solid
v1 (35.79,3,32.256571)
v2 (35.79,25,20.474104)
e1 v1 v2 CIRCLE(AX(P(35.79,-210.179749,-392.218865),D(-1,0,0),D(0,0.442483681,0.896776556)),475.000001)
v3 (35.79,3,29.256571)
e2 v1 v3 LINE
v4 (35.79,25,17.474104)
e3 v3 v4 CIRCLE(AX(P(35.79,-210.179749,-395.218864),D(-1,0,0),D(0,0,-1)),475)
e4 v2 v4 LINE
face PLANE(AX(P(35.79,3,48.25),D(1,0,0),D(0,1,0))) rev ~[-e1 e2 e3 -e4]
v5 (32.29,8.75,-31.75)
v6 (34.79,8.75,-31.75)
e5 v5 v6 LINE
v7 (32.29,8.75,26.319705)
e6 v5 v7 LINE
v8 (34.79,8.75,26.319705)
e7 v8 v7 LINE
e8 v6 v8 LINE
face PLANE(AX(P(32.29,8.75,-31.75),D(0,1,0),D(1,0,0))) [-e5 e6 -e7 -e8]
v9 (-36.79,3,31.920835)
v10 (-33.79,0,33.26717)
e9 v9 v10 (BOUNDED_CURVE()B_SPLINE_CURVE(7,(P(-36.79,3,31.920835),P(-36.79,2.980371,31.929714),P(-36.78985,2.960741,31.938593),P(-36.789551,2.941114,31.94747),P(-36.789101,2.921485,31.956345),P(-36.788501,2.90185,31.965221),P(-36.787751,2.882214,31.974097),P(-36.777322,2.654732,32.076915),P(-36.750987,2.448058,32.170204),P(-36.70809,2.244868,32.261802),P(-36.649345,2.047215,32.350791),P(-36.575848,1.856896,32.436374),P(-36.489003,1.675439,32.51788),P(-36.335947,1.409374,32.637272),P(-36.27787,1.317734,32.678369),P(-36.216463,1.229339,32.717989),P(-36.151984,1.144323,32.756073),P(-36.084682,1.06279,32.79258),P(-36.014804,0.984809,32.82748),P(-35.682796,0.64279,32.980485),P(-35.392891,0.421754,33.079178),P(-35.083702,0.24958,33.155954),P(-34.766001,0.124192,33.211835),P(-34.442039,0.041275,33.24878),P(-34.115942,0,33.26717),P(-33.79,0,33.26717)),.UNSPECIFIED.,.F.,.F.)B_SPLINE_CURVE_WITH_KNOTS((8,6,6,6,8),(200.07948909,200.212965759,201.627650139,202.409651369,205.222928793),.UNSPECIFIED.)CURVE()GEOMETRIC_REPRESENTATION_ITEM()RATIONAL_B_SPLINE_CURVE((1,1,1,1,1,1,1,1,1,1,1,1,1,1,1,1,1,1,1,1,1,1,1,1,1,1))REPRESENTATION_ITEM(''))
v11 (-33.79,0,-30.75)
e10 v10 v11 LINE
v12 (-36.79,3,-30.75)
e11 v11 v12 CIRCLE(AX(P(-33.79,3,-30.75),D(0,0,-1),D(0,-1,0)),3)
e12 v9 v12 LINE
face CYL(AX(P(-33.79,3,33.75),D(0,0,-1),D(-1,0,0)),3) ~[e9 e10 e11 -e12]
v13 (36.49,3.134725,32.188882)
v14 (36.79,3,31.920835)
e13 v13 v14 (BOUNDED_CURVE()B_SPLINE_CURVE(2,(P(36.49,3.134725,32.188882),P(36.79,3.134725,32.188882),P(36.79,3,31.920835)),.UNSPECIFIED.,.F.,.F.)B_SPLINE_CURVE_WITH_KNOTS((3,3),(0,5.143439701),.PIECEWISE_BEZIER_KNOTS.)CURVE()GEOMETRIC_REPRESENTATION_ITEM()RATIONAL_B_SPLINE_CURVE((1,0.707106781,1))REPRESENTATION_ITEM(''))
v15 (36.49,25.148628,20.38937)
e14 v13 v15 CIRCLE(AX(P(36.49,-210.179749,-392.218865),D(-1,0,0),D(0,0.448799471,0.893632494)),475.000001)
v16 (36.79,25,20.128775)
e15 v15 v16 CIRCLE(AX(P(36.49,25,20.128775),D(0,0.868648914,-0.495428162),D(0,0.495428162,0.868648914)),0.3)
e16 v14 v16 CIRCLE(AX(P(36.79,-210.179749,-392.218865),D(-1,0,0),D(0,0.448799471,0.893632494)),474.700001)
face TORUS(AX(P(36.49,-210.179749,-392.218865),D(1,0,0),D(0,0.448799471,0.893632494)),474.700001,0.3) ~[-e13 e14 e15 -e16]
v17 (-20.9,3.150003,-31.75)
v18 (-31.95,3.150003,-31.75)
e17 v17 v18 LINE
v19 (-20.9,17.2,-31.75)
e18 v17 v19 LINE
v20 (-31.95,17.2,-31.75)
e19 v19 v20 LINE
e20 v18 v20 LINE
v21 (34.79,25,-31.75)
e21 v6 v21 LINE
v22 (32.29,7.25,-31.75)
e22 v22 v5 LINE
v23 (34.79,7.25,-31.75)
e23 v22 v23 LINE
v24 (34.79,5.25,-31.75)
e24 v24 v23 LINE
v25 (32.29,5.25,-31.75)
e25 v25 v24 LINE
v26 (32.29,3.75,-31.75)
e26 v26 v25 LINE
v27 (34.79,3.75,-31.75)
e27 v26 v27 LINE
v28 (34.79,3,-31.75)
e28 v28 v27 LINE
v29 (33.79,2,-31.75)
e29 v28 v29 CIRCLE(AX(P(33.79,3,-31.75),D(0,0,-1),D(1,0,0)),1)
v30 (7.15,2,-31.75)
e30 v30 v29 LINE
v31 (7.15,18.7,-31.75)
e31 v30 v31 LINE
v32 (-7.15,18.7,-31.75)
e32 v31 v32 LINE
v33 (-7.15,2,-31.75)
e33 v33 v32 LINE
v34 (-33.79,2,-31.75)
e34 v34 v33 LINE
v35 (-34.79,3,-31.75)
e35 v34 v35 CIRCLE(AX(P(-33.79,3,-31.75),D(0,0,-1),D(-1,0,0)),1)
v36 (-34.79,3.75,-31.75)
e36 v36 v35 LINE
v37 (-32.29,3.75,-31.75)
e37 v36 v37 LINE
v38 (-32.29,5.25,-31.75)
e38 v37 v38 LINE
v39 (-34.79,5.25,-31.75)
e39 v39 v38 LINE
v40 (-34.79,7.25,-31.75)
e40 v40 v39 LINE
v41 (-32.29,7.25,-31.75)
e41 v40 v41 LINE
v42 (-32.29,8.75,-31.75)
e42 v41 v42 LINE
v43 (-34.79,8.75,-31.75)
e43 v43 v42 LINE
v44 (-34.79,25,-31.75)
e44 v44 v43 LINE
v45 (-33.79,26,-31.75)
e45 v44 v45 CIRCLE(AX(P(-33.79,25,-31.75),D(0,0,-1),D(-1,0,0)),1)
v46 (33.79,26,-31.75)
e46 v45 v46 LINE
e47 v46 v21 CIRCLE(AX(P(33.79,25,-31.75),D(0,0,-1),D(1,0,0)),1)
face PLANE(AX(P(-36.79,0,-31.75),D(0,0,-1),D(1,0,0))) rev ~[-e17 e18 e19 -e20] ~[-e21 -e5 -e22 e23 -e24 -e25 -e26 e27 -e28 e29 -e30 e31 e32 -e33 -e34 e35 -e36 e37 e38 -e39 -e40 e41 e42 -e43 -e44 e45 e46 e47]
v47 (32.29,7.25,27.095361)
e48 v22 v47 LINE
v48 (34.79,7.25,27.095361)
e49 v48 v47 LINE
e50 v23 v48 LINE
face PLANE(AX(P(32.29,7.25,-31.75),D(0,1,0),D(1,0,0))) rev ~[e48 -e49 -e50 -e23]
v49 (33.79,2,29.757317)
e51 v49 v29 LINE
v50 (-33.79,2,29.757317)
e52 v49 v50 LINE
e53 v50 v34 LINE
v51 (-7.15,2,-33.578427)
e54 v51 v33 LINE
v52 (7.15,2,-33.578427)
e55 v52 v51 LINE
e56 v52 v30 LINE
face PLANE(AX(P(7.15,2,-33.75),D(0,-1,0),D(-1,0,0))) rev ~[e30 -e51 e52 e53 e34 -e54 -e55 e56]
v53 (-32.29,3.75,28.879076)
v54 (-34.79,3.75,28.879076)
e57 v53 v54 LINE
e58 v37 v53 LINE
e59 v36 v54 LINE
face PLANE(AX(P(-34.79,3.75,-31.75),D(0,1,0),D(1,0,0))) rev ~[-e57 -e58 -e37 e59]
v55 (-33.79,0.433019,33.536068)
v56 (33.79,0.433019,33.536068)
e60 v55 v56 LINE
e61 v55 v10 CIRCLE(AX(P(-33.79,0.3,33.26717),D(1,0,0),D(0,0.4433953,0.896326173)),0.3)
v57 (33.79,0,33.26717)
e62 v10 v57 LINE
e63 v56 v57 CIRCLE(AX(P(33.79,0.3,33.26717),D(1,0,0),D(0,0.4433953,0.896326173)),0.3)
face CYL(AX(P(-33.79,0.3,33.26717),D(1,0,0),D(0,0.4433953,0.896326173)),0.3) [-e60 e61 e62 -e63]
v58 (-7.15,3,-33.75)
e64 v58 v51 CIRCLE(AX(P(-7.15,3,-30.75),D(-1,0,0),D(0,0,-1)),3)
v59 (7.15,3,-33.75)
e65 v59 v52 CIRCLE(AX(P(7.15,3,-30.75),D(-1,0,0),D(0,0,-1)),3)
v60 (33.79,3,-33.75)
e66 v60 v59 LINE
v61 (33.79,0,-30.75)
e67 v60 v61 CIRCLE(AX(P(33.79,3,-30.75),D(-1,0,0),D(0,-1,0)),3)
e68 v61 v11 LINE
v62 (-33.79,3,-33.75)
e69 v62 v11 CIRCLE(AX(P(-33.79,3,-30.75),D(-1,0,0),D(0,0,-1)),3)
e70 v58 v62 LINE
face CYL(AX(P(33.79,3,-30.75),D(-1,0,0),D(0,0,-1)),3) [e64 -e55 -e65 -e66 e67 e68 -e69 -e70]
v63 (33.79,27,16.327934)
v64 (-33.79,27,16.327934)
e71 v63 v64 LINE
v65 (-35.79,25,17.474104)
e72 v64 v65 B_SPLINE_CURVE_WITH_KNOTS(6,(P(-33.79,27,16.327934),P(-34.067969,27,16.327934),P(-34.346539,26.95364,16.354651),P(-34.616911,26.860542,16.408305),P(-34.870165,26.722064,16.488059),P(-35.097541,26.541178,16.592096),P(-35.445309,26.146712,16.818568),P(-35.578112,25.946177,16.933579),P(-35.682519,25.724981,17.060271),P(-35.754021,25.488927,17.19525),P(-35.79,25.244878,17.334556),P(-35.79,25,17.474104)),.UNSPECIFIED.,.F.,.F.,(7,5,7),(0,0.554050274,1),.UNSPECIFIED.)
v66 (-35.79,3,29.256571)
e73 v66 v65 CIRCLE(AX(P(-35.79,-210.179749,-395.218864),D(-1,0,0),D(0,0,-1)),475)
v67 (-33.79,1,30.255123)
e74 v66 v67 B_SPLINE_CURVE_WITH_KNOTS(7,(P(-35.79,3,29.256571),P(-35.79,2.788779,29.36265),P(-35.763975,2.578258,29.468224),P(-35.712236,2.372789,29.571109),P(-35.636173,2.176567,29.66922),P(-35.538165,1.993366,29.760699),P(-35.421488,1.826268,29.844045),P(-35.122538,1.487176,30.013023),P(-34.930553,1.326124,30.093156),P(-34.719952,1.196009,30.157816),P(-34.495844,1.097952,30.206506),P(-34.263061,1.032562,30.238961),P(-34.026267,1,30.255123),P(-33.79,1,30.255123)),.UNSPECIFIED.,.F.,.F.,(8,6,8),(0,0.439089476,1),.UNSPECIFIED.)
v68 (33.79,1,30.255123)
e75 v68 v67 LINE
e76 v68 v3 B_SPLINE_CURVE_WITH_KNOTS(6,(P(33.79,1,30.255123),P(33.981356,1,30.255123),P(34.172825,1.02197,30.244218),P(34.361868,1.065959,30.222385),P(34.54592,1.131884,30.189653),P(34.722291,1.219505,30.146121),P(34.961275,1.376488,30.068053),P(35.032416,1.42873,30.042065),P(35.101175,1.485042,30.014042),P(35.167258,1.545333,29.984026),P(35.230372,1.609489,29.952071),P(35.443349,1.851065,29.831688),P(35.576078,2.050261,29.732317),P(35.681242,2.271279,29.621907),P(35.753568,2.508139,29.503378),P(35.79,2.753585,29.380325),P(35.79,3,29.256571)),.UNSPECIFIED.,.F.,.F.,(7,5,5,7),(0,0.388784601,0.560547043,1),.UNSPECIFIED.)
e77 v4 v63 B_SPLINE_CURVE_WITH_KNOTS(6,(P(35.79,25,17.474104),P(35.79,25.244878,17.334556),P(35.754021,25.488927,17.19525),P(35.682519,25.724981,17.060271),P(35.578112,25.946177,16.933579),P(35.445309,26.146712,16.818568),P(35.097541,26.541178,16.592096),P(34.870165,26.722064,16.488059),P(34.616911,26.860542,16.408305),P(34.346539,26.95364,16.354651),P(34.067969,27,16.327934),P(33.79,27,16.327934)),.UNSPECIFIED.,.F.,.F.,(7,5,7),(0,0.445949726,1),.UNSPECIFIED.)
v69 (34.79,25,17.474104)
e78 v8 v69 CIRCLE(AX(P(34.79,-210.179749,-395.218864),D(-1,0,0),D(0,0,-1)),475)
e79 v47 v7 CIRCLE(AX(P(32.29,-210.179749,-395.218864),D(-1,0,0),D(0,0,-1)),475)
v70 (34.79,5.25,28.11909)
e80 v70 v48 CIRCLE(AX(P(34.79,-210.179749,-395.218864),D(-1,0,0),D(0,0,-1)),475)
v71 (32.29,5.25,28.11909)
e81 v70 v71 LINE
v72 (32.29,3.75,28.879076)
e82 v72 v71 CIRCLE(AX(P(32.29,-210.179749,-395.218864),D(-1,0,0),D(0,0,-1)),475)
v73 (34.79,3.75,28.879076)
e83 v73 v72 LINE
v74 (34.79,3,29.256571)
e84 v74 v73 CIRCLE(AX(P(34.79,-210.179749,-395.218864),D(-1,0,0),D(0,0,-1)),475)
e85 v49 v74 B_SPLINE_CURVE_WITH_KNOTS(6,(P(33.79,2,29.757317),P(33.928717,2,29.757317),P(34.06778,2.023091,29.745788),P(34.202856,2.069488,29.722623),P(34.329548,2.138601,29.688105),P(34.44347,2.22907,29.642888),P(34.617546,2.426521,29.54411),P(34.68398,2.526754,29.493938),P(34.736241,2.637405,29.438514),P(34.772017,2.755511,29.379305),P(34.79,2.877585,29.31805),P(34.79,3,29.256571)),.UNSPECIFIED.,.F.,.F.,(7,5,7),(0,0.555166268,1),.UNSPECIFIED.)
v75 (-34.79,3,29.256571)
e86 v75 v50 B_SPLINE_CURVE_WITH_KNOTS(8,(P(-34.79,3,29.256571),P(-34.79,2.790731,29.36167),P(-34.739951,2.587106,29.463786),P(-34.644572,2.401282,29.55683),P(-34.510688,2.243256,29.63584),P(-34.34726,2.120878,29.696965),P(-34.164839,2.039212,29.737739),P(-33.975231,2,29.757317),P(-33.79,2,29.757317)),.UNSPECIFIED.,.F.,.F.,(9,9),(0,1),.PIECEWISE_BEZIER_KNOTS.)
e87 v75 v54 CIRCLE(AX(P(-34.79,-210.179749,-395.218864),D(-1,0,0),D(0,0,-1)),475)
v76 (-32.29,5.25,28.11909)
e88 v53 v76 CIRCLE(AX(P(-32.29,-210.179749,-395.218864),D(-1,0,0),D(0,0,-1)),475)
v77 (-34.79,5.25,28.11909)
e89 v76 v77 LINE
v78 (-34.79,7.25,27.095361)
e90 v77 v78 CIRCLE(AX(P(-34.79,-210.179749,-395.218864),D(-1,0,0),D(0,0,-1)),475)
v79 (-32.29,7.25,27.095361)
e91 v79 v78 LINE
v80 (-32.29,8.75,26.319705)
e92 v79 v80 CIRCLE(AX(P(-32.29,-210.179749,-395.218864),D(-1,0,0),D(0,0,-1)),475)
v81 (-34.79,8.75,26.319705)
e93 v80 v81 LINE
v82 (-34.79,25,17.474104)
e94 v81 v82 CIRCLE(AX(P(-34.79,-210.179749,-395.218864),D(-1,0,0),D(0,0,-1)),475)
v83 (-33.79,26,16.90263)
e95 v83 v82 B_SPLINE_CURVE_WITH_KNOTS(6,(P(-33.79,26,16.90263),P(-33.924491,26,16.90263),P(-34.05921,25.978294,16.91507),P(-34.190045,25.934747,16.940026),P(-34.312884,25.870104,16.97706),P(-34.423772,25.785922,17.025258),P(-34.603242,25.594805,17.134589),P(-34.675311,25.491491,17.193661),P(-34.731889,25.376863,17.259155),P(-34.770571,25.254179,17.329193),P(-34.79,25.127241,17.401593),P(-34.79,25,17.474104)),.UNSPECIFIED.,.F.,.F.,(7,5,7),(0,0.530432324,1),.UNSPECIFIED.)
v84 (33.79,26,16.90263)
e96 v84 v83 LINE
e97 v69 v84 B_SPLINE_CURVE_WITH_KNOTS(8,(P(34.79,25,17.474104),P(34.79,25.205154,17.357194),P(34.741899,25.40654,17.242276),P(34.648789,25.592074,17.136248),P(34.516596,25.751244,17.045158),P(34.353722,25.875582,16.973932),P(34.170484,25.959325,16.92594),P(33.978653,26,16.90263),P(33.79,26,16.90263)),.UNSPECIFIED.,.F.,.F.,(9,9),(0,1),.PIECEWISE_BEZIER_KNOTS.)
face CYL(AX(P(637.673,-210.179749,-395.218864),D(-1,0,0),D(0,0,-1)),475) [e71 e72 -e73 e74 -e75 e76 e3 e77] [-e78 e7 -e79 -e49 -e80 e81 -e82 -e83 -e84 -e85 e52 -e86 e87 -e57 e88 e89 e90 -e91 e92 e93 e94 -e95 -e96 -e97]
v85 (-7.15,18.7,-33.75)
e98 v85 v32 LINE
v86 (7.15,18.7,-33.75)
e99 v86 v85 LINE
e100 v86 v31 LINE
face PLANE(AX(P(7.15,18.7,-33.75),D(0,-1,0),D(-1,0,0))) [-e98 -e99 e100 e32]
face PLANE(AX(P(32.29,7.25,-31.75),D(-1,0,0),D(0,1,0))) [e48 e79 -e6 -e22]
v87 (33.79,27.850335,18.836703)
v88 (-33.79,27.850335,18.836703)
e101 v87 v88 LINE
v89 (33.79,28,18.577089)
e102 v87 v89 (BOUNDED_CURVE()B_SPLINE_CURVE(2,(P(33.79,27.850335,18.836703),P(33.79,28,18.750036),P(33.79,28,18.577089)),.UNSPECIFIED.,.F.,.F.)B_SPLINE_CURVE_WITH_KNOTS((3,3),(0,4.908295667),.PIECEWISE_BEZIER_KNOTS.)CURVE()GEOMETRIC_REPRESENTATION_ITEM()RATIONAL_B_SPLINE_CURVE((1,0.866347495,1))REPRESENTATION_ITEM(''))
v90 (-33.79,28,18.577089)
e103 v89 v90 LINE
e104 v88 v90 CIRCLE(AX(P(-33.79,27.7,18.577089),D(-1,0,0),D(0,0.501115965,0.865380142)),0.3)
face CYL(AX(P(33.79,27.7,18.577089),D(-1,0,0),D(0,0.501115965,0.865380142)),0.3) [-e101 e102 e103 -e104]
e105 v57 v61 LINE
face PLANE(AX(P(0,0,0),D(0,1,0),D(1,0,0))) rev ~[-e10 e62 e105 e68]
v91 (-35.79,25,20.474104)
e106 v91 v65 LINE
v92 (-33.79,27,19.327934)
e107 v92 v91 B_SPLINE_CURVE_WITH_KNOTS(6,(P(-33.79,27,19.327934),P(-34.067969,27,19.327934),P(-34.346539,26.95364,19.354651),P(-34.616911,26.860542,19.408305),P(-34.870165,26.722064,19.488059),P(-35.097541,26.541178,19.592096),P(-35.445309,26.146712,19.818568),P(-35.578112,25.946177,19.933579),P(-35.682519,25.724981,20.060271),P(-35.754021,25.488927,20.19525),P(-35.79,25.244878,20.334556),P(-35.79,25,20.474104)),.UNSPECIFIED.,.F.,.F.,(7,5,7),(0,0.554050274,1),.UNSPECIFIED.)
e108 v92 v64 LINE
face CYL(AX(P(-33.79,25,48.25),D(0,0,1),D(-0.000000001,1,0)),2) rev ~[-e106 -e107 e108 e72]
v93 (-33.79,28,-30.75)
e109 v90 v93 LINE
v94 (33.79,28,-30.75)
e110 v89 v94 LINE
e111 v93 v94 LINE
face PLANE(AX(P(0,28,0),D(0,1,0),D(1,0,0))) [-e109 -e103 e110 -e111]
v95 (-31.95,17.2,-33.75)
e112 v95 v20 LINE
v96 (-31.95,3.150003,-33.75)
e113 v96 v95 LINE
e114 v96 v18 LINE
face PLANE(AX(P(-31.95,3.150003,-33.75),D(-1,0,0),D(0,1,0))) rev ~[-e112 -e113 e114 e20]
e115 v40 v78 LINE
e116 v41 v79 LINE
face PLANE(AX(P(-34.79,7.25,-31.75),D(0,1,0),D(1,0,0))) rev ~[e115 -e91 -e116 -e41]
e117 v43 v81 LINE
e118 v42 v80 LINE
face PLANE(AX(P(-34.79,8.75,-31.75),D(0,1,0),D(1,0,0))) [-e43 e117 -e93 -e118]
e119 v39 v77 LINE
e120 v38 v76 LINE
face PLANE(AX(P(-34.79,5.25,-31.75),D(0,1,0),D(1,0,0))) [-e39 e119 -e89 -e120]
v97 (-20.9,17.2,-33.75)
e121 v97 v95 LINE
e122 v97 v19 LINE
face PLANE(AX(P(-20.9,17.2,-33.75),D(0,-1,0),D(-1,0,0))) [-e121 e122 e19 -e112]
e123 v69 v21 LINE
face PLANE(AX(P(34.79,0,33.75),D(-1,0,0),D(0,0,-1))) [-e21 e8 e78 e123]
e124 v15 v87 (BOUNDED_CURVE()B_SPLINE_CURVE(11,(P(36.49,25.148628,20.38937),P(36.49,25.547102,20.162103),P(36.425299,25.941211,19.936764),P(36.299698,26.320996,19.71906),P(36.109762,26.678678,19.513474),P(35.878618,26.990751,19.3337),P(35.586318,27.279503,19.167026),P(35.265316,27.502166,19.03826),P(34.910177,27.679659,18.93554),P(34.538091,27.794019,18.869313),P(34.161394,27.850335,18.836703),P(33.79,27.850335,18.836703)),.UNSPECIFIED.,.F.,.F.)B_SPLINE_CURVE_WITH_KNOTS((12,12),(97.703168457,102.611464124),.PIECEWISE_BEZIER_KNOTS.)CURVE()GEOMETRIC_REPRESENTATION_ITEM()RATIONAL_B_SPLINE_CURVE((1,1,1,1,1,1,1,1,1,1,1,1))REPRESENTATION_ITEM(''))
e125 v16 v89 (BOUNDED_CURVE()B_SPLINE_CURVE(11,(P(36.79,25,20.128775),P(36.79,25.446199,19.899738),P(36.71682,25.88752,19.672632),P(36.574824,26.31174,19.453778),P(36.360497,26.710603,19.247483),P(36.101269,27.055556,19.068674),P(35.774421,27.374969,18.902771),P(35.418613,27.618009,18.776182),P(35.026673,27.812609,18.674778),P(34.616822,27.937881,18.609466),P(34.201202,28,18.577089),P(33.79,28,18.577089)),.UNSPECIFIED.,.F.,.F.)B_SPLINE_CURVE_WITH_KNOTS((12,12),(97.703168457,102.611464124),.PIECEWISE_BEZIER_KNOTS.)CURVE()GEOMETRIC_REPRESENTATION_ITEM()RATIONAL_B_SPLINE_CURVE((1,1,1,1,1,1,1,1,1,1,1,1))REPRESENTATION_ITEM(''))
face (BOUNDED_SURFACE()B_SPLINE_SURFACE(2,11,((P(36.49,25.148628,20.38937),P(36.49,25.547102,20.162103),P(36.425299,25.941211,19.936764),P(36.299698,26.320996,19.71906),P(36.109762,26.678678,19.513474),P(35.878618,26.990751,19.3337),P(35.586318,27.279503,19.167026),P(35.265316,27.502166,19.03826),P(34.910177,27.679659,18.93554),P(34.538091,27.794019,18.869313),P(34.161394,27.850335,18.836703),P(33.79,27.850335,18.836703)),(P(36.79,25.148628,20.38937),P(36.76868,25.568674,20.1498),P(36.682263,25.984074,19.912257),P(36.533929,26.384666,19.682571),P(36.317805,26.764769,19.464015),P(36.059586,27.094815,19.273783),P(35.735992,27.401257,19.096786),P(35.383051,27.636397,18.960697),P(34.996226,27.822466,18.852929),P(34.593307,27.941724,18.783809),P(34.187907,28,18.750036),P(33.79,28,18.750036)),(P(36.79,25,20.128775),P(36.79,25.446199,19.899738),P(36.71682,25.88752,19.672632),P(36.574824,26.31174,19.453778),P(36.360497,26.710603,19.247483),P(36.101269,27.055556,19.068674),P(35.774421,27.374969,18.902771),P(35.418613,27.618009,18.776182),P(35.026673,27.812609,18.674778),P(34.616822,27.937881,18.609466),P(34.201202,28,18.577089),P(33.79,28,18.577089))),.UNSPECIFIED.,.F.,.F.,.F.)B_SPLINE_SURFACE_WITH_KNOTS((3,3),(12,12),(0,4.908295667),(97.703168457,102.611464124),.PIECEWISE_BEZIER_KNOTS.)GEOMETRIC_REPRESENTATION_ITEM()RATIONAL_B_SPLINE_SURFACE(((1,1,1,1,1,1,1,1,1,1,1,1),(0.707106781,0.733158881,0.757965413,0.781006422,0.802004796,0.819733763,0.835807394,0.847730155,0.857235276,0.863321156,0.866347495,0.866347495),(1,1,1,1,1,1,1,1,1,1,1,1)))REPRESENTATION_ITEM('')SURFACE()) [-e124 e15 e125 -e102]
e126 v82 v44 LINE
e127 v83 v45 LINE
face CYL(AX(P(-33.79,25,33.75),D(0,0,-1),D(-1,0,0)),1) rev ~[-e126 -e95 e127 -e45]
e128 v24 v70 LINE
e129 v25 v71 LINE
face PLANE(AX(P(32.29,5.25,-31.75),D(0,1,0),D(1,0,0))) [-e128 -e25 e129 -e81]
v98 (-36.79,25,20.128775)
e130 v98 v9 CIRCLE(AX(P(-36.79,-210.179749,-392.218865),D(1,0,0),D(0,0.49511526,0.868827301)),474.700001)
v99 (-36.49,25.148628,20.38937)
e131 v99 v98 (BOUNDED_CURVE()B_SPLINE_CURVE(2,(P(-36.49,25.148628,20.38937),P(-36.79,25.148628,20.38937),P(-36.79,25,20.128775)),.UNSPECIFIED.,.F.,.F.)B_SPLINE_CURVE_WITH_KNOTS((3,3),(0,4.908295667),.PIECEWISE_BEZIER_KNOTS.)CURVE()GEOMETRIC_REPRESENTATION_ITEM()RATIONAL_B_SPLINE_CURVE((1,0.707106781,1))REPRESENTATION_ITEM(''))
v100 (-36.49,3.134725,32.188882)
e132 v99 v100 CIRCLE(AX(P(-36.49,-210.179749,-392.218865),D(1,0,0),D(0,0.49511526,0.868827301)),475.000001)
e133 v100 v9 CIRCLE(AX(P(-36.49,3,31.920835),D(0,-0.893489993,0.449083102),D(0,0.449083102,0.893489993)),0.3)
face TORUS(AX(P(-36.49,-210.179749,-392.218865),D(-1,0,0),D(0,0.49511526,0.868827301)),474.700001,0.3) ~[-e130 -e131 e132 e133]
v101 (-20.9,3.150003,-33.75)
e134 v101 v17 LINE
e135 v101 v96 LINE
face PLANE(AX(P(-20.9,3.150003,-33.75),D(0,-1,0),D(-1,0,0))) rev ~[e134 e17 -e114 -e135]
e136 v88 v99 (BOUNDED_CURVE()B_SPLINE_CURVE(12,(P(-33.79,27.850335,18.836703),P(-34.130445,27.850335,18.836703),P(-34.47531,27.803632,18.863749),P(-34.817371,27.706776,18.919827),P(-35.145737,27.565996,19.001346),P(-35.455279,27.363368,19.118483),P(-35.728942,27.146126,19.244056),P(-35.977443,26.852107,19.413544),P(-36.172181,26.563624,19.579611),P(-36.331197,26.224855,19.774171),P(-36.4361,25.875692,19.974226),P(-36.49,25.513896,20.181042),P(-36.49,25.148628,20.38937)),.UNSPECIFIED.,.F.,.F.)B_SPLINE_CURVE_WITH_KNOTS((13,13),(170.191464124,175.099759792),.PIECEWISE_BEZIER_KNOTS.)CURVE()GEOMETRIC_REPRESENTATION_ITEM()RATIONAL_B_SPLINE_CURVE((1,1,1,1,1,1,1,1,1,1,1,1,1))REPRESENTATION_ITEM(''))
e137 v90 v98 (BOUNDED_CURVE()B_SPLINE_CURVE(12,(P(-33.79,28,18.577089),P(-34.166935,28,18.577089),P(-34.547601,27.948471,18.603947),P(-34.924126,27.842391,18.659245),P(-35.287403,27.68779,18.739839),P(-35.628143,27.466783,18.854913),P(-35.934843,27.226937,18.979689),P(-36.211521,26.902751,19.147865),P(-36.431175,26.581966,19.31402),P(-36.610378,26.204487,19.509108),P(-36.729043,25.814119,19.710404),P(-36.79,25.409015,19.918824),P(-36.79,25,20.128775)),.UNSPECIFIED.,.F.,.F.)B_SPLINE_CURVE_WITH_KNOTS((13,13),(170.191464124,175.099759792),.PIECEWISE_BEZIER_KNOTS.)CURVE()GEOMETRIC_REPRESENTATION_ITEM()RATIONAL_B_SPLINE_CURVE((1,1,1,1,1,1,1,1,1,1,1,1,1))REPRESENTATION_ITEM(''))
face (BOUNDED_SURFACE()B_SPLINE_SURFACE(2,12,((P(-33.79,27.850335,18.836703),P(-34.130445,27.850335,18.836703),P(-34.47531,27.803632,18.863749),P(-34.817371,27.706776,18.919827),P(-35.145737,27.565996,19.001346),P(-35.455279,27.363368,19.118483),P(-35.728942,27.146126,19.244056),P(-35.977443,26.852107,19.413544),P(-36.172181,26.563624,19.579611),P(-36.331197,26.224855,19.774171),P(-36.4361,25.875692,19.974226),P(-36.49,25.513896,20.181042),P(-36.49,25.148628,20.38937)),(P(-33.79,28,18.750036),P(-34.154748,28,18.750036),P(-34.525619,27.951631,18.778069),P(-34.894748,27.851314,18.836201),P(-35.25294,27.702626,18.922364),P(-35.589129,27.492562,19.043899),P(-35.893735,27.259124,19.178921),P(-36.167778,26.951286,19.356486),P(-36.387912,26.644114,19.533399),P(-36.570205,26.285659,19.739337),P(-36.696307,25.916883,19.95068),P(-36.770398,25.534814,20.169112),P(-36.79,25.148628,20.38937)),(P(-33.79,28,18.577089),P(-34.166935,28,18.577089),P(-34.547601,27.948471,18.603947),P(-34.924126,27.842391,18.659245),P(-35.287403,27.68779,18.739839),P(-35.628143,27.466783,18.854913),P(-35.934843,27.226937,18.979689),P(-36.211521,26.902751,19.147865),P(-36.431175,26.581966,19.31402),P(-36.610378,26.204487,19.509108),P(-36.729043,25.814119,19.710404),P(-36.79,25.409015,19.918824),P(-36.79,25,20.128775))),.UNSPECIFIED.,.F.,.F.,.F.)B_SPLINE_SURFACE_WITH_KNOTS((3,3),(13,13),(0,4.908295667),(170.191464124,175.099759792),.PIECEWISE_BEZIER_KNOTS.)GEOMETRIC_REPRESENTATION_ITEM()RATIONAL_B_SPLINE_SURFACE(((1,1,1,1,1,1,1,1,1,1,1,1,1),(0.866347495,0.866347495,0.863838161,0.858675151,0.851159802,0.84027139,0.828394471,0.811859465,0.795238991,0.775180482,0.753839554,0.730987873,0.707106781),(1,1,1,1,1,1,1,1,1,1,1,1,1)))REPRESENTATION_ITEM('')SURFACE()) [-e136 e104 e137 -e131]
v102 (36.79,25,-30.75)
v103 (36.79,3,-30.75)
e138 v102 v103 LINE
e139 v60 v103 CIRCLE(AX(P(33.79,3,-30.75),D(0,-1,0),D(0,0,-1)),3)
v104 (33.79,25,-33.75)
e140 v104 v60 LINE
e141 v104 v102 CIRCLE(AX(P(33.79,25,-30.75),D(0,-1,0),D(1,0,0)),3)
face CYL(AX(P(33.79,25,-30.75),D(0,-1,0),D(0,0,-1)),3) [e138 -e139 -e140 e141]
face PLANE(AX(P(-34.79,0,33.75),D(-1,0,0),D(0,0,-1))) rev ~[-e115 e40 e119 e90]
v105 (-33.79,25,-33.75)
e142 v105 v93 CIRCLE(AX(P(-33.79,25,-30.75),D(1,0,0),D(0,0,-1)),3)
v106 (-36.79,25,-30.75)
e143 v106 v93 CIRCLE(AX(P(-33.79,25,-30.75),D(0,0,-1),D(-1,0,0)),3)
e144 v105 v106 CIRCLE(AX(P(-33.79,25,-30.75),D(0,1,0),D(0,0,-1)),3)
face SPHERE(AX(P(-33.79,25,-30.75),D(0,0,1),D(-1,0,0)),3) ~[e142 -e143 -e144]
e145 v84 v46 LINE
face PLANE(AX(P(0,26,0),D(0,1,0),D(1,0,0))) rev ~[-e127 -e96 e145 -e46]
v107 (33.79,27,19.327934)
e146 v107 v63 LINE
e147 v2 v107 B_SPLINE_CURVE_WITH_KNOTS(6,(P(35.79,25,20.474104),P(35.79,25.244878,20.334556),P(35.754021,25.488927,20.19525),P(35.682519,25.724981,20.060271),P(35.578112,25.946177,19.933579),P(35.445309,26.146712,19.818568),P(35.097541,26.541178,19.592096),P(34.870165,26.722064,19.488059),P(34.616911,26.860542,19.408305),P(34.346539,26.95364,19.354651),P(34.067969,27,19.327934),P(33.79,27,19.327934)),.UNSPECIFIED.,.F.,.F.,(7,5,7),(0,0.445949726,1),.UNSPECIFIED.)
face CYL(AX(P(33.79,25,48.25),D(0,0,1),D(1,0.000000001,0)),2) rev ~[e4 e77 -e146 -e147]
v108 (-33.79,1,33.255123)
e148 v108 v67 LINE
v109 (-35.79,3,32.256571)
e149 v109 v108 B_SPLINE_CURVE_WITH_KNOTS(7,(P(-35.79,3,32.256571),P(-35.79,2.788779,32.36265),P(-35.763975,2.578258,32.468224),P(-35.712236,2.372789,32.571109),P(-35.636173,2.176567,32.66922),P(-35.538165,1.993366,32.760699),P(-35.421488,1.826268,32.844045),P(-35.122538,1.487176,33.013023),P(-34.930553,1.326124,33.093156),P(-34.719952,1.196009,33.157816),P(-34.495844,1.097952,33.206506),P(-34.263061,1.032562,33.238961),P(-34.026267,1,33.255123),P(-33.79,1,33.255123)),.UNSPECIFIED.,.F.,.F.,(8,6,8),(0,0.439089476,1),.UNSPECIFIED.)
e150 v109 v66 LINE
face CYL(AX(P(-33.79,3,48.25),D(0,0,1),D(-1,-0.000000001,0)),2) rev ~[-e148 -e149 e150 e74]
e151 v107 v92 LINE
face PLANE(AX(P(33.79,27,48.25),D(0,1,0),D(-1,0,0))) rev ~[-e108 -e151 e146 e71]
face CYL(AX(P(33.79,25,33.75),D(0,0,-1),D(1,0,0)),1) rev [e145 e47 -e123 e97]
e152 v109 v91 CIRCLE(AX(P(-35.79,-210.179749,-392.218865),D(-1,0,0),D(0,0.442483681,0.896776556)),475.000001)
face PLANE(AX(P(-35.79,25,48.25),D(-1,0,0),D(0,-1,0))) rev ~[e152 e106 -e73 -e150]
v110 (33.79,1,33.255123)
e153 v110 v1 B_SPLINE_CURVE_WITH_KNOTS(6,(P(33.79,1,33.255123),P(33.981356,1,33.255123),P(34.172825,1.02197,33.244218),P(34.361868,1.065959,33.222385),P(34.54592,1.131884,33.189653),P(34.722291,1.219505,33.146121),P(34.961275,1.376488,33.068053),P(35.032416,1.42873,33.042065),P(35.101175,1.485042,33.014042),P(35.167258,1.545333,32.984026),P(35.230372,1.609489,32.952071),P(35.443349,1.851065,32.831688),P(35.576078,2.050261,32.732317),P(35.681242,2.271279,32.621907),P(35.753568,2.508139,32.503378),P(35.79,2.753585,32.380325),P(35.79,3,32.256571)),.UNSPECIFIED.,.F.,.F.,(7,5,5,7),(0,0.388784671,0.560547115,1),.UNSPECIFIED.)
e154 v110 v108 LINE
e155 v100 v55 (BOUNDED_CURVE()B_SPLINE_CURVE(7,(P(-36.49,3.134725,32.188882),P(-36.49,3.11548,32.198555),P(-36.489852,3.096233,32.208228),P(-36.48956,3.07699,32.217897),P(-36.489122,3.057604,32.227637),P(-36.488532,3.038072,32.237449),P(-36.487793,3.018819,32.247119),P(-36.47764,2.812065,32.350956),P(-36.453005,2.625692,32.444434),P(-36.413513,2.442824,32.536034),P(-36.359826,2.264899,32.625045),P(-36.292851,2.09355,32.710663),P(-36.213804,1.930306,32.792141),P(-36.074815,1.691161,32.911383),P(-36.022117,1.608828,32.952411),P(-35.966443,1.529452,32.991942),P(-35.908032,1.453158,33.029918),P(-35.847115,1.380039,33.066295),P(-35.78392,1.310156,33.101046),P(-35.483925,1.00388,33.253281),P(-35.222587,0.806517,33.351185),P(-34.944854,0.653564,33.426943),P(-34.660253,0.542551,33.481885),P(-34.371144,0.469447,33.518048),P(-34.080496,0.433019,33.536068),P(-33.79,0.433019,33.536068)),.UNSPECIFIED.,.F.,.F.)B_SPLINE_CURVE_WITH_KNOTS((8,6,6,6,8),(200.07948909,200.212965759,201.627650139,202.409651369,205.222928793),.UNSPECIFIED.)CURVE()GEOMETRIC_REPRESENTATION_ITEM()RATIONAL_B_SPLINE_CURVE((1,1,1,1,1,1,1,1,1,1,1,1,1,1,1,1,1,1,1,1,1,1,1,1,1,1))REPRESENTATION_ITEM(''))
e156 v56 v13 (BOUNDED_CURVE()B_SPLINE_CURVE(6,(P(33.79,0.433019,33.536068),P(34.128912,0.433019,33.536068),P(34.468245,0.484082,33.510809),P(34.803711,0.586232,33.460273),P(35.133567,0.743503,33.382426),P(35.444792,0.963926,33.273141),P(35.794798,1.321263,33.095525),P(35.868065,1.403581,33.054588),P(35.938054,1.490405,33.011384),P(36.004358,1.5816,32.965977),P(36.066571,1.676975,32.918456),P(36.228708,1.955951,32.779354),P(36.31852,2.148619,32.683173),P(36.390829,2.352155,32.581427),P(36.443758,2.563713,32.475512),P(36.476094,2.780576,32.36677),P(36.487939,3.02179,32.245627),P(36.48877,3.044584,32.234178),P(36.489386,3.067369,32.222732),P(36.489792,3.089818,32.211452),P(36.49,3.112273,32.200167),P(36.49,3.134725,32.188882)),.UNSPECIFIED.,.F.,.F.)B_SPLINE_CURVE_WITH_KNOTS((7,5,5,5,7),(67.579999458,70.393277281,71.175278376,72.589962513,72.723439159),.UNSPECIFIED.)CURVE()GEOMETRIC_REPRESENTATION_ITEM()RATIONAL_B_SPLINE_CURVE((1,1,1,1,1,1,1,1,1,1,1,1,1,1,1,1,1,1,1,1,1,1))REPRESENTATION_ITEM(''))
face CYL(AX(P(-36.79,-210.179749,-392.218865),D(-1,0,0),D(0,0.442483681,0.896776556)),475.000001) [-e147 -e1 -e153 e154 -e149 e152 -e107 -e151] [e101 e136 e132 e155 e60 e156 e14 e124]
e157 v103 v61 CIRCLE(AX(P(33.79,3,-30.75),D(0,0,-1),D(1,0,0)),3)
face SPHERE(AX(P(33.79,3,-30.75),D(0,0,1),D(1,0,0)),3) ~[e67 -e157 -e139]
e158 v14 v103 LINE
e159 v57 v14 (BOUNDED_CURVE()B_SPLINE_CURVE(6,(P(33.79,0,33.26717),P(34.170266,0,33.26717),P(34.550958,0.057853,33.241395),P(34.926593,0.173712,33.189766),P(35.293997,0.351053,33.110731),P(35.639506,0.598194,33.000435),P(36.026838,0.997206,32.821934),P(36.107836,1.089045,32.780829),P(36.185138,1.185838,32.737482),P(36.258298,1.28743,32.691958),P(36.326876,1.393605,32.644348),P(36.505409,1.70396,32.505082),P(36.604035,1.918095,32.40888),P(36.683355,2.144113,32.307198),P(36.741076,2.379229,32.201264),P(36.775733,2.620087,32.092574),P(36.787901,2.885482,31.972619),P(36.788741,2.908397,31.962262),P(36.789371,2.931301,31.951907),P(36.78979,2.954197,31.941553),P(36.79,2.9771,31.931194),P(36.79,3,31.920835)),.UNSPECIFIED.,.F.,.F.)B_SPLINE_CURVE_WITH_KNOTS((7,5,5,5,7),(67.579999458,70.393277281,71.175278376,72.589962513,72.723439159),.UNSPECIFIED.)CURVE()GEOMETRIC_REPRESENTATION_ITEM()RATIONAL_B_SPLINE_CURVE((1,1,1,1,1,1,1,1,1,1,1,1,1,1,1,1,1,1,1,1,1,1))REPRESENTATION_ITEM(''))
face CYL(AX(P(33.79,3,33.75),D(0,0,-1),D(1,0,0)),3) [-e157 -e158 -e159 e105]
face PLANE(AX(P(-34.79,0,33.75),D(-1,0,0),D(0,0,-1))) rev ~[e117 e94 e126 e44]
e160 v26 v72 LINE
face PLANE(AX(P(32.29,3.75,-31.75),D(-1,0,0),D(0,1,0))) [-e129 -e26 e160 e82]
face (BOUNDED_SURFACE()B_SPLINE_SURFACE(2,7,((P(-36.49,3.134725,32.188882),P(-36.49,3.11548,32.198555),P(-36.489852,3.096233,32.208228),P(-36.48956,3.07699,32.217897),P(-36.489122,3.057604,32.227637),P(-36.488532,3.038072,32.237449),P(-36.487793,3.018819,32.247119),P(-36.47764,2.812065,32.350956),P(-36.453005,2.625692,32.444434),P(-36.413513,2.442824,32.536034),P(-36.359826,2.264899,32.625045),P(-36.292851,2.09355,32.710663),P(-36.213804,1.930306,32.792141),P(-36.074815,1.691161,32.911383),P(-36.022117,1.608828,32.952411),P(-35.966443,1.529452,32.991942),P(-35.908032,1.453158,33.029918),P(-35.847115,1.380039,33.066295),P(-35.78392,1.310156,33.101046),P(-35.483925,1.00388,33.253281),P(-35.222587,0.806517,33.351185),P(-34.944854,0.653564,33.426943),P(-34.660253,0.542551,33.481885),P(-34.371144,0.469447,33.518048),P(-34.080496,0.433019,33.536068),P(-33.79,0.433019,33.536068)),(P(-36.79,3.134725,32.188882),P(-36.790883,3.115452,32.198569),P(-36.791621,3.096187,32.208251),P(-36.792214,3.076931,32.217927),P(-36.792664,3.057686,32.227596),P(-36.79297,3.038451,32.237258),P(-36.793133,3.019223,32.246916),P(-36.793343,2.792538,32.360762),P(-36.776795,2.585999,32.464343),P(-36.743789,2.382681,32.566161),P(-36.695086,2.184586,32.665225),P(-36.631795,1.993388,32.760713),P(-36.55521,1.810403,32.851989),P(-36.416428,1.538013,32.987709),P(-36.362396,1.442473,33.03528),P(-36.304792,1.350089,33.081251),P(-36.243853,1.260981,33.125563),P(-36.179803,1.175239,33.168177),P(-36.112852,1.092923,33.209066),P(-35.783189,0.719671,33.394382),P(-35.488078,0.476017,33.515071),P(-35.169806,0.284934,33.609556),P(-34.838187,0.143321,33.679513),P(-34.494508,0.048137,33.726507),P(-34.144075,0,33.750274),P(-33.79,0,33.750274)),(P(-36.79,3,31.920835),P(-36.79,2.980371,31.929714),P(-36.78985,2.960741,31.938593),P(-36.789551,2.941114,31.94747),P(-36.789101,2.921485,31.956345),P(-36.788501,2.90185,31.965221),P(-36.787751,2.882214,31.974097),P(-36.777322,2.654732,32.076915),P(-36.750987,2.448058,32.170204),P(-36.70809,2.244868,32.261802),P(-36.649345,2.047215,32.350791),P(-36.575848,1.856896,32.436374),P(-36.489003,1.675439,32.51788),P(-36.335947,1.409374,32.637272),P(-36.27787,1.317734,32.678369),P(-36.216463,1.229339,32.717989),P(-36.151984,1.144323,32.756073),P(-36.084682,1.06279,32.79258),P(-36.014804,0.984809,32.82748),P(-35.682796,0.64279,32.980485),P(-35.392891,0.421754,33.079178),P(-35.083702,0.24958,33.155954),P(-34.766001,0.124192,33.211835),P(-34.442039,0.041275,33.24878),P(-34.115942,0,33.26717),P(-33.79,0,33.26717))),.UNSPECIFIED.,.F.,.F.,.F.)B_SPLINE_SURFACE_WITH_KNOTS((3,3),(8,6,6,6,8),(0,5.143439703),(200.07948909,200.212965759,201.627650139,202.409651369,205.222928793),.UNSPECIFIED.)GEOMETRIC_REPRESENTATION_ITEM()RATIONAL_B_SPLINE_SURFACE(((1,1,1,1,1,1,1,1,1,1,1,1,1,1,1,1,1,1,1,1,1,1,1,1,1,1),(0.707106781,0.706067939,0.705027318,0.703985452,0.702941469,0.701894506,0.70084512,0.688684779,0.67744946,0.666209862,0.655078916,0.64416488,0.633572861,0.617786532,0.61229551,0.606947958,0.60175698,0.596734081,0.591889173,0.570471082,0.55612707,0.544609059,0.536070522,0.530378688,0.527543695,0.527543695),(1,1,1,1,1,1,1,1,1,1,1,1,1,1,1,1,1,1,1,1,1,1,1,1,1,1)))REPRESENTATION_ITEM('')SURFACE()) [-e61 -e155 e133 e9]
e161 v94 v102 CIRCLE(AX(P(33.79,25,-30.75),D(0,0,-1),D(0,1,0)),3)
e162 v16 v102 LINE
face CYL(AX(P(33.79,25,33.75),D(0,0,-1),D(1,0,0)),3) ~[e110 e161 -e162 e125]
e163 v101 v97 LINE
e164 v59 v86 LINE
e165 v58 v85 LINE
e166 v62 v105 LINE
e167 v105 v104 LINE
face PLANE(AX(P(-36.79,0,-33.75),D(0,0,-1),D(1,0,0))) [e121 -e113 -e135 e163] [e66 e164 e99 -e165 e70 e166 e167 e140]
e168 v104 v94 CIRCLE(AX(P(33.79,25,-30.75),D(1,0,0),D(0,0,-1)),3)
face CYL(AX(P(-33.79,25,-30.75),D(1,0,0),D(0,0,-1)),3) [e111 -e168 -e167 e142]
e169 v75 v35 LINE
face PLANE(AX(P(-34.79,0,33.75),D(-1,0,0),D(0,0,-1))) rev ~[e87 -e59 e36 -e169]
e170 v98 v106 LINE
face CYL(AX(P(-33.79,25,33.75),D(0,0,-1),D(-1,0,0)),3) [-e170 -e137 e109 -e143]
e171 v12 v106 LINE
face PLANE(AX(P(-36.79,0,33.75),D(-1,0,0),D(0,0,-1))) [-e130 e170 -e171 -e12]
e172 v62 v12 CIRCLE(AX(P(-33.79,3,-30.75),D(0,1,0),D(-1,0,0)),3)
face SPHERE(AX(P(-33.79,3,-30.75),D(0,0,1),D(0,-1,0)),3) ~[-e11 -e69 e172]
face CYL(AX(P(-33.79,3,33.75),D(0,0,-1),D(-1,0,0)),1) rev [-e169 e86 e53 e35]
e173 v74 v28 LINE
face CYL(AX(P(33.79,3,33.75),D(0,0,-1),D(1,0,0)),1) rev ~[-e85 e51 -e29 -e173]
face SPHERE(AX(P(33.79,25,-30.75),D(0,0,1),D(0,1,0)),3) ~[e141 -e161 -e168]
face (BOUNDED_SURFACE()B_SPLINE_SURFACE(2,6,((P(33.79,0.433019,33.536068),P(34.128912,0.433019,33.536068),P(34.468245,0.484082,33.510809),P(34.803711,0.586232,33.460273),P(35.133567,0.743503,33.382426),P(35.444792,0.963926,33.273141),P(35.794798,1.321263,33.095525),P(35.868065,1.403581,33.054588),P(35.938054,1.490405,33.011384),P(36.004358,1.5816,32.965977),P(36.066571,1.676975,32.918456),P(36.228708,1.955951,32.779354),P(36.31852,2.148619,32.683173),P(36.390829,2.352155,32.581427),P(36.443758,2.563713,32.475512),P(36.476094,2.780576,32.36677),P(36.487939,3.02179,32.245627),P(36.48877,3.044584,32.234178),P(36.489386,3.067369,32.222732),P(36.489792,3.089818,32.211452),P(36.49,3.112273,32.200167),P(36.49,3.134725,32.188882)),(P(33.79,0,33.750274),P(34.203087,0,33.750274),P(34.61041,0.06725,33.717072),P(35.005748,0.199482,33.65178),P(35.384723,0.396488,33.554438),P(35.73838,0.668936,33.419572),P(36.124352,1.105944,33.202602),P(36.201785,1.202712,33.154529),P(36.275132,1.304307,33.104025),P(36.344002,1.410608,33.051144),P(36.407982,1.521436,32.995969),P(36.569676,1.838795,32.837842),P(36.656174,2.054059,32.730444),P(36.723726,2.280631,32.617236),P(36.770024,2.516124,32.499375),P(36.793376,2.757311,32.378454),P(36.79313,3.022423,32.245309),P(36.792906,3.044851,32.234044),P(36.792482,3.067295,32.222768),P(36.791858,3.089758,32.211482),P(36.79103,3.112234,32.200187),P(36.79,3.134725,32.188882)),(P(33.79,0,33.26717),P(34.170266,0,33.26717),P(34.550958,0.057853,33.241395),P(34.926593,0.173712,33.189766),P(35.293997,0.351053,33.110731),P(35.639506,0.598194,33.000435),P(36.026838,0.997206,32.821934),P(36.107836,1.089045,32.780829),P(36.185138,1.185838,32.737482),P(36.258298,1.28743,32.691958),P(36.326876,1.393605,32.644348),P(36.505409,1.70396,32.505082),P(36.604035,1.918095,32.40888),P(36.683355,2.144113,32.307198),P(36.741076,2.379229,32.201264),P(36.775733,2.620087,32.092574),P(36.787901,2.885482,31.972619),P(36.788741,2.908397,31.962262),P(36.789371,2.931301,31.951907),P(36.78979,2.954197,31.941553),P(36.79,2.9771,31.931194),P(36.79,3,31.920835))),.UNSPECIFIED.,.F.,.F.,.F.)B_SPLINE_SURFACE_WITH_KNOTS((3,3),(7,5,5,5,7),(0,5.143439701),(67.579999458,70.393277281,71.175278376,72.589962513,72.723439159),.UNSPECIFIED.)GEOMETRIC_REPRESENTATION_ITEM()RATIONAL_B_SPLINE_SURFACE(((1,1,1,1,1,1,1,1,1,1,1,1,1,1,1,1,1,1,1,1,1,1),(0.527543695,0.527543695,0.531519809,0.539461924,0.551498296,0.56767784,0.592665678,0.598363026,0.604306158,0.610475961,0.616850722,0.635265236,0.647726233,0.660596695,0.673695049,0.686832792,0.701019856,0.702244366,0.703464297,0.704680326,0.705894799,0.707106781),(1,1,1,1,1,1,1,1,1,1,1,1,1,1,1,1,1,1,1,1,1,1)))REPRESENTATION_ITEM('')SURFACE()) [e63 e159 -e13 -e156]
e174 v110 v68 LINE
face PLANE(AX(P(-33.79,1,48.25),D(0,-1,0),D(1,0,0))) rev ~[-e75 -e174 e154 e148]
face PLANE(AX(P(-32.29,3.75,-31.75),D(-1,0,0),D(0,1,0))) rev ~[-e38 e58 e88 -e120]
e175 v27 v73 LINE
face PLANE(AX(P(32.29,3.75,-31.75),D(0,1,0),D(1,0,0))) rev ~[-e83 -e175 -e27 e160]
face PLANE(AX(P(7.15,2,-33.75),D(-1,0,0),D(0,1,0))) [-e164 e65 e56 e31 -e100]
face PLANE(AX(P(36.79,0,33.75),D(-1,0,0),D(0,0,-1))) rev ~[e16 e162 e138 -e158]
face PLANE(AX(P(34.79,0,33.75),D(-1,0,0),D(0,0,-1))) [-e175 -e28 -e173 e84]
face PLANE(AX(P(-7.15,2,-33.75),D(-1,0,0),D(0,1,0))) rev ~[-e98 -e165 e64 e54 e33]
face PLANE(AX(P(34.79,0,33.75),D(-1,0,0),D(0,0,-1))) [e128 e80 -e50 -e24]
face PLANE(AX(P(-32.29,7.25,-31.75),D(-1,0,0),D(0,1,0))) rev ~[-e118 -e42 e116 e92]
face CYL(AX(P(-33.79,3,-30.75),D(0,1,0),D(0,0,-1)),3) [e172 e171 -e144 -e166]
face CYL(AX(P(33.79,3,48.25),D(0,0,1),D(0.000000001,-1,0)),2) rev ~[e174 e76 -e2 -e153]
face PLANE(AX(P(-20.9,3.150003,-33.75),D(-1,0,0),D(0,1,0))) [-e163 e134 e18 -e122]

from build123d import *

# Parameters (mm, degrees)
SKETCH1_W                = 73.58
SKETCH1_H                = 67.5
BOSS_EXTRUDE1_DEPTH      = 28
FILLET1_R                = 3
SHELL1_T                 = -2
CUT_EXTRUDE1_DEPTH       = 86.656750464
FILLET2_R                = 3
CUT_EXTRUDE3_REACH       = 162.173
CUT_EXTRUDE3_END_RADIUS  = 475
CUT_EXTRUDE3_START       = 80
FILLET3_R                = 0.3
BOSS_EXTRUDE2_REACH      = 82.024
BOSS_EXTRUDE2_END_RADIUS = 475
SKETCH5_W                = 2.5
SKETCH5_H                = 1.5
SKETCH6_W                = 14.3
SKETCH6_H                = 16.7
SKETCH6_W_2              = 11.05
SKETCH6_H_2              = 14.049996967
CUT_EXTRUDE4_DEPTH       = 2


with BuildPart() as part:
    # Sketch1 → Boss-Extrude1 (new body)
    with BuildSketch(Plane(origin=(0, 0, 0), x_dir=(1, 0, 0), z_dir=(0, 1, 0))):
        Rectangle(SKETCH1_W, SKETCH1_H)
    extrude(amount=BOSS_EXTRUDE1_DEPTH)

    # Fillet1
    fillet1_edges = [part.edges().sort_by_distance(p)[0] for p in [
        (-36.79, 28, 0),
        (36.79, 28, 0),
        (-36.79, 0, 0),
        (36.79, 0, 0),
    ]]
    fillet(fillet1_edges, radius=FILLET1_R)

    # Shell1
    shell1_openings = [part.faces().sort_by_distance(p)[0] for p in [
        (0, 14, 33.75),
    ]]
    offset(amount=SHELL1_T, openings=shell1_openings, kind=Kind.INTERSECTION)

    # Sketch2 → Cut-Extrude1 (cut, through all)
    with BuildSketch(Plane.ZY.offset(36.79)):
        with BuildLine():
            Line((18.75, 28), (33.75, 28))
            Line((33.75, 28), (33.75, 0))
            ThreePointArc((33.75, 0), (26.484121584, 14.125422277), (18.75, 28))
        make_face()
    extrude(amount=-CUT_EXTRUDE1_DEPTH, mode=Mode.SUBTRACT)

    # Fillet2
    fillet2_edges = [part.edges().sort_by_distance(p)[0] for p in [
        (0, 28, -33.75),
        (0, 0, -33.75),
        (-36.79, 14, -33.75),
        (36.79, 14, -33.75),
        (-35.911320344, 27.121320344, -33.75),
        (-35.911320344, 0.878679656, -33.75),
        (35.911320344, 0.878679656, -33.75),
        (35.911320344, 27.121320344, -33.75),
    ]]
    fillet(fillet2_edges, radius=FILLET2_R)

    # Cut-Extrude3: up to this cylinder (the profile starts outside it)
    cut_extrude3_end = Plane(origin=(0, -210.179748667, -395.218864179), z_dir=(-1, 0, 0)) * Cylinder(CUT_EXTRUDE3_END_RADIUS, 1275.346, mode=Mode.PRIVATE)
    # Sketch4 → Cut-Extrude3 (cut, up to the surface)
    with BuildSketch(Plane.XY.offset(-31.75).offset(CUT_EXTRUDE3_START), mode=Mode.PRIVATE) as cut_extrude3_sk1:
        with BuildLine():
            Line((33.79, 27), (-33.79, 27))
            ThreePointArc((-33.79, 27), (-35.204213562, 26.414213562), (-35.79, 25))
            Line((-35.79, 25), (-35.79, 3))
            ThreePointArc((-35.79, 3), (-35.204213562, 1.585786438), (-33.79, 1))
            Line((-33.79, 1), (33.79, 1))
            ThreePointArc((33.79, 1), (35.204213562, 1.585786438), (35.79, 3))
            Line((35.79, 3), (35.79, 25))
            ThreePointArc((35.79, 25), (35.204213562, 26.414213562), (33.79, 27))
        make_face()
        with BuildLine():
            Line((33.79, 26), (-33.79, 26))
            ThreePointArc((-33.79, 26), (-34.497106781, 25.707106781), (-34.79, 25))
            Line((-34.79, 25), (-34.79, 3))
            ThreePointArc((-34.79, 3), (-34.497106781, 2.292893219), (-33.79, 2))
            Line((-33.79, 2), (33.79, 2))
            ThreePointArc((33.79, 2), (34.497106781, 2.292893219), (34.79, 3))
            Line((34.79, 3), (34.79, 25))
            ThreePointArc((34.79, 25), (34.497106781, 25.707106781), (33.79, 26))
        make_face(mode=Mode.SUBTRACT)
    cut_extrude3_tool1 = extrude(cut_extrude3_sk1.sketch, amount=-CUT_EXTRUDE3_REACH, mode=Mode.PRIVATE) - cut_extrude3_end
    add(cut_extrude3_tool1.solids().sort_by_distance((0, 26.238443, 48.25))[0], mode=Mode.SUBTRACT)

    # Fillet3
    fillet3_edges = [part.edges().sort_by_distance(p)[0] for p in [
        (0, 0, 33.75),
        (-36.79, 14.077394683, 26.509847108),
        (35.984331752, 27.045704827, 19.301590008),
        (35.969562436, 0.938566613, 33.285609296),
        (-35.969562436, 0.938566613, 33.285609296),
        (-35.984331752, 27.045704827, 19.301590008),
        (36.79, 14.077394683, 26.509847108),
        (0, 28, 18.75),
    ]]
    fillet(fillet3_edges, radius=FILLET3_R)

    # Boss-Extrude2: up to this cylinder (the profile starts inside it)
    boss_extrude2_end = Plane(origin=(0, -210.179748667, -395.218864179), z_dir=(-1, 0, 0)) * Cylinder(BOSS_EXTRUDE2_END_RADIUS, 1182.128, mode=Mode.PRIVATE)
    # Sketch5 → Boss-Extrude2 (add, up to the surface)
    with BuildSketch(Plane.XY.offset(-31.75), mode=Mode.PRIVATE) as boss_extrude2_sk1:
        with Locations((33.54, 4.5)):
            Rectangle(SKETCH5_W, SKETCH5_H)
    boss_extrude2_tool1 = extrude(boss_extrude2_sk1.sketch, amount=BOSS_EXTRUDE2_REACH, mode=Mode.PRIVATE) & boss_extrude2_end
    add(boss_extrude2_tool1.solids().sort_by_distance((33.54, 4.5, -31.75))[0])
    # Sketch5 → Boss-Extrude2 (add, up to the surface)
    with BuildSketch(Plane.XY.offset(-31.75), mode=Mode.PRIVATE) as boss_extrude2_sk2:
        with Locations((33.54, 8)):
            Rectangle(SKETCH5_W, SKETCH5_H)
    boss_extrude2_tool2 = extrude(boss_extrude2_sk2.sketch, amount=BOSS_EXTRUDE2_REACH, mode=Mode.PRIVATE) & boss_extrude2_end
    add(boss_extrude2_tool2.solids().sort_by_distance((33.54, 8, -31.75))[0])
    # Sketch5 → Boss-Extrude2 (add, up to the surface)
    with BuildSketch(Plane.XY.offset(-31.75), mode=Mode.PRIVATE) as boss_extrude2_sk3:
        with Locations((-33.54, 8)):
            Rectangle(SKETCH5_W, SKETCH5_H)
    boss_extrude2_tool3 = extrude(boss_extrude2_sk3.sketch, amount=BOSS_EXTRUDE2_REACH, mode=Mode.PRIVATE) & boss_extrude2_end
    add(boss_extrude2_tool3.solids().sort_by_distance((-33.54, 8, -31.75))[0])
    # Sketch5 → Boss-Extrude2 (add, up to the surface)
    with BuildSketch(Plane.XY.offset(-31.75), mode=Mode.PRIVATE) as boss_extrude2_sk4:
        with Locations((-33.54, 4.5)):
            Rectangle(SKETCH5_W, SKETCH5_H)
    boss_extrude2_tool4 = extrude(boss_extrude2_sk4.sketch, amount=BOSS_EXTRUDE2_REACH, mode=Mode.PRIVATE) & boss_extrude2_end
    add(boss_extrude2_tool4.solids().sort_by_distance((-33.54, 4.5, -31.75))[0])

    # Sketch6 → Cut-Extrude4 (cut)
    with BuildSketch(Plane(origin=(0, 0, -33.75), x_dir=(-1, 0, 0), z_dir=(0, 0, -1))):
        with Locations((0, 10.35)):
            Rectangle(SKETCH6_W, SKETCH6_H)
        with Locations((26.425, 10.175001517)):
            Rectangle(SKETCH6_W_2, SKETCH6_H_2)
    extrude(amount=-CUT_EXTRUDE4_DEPTH, mode=Mode.SUBTRACT)


solid = part.part
